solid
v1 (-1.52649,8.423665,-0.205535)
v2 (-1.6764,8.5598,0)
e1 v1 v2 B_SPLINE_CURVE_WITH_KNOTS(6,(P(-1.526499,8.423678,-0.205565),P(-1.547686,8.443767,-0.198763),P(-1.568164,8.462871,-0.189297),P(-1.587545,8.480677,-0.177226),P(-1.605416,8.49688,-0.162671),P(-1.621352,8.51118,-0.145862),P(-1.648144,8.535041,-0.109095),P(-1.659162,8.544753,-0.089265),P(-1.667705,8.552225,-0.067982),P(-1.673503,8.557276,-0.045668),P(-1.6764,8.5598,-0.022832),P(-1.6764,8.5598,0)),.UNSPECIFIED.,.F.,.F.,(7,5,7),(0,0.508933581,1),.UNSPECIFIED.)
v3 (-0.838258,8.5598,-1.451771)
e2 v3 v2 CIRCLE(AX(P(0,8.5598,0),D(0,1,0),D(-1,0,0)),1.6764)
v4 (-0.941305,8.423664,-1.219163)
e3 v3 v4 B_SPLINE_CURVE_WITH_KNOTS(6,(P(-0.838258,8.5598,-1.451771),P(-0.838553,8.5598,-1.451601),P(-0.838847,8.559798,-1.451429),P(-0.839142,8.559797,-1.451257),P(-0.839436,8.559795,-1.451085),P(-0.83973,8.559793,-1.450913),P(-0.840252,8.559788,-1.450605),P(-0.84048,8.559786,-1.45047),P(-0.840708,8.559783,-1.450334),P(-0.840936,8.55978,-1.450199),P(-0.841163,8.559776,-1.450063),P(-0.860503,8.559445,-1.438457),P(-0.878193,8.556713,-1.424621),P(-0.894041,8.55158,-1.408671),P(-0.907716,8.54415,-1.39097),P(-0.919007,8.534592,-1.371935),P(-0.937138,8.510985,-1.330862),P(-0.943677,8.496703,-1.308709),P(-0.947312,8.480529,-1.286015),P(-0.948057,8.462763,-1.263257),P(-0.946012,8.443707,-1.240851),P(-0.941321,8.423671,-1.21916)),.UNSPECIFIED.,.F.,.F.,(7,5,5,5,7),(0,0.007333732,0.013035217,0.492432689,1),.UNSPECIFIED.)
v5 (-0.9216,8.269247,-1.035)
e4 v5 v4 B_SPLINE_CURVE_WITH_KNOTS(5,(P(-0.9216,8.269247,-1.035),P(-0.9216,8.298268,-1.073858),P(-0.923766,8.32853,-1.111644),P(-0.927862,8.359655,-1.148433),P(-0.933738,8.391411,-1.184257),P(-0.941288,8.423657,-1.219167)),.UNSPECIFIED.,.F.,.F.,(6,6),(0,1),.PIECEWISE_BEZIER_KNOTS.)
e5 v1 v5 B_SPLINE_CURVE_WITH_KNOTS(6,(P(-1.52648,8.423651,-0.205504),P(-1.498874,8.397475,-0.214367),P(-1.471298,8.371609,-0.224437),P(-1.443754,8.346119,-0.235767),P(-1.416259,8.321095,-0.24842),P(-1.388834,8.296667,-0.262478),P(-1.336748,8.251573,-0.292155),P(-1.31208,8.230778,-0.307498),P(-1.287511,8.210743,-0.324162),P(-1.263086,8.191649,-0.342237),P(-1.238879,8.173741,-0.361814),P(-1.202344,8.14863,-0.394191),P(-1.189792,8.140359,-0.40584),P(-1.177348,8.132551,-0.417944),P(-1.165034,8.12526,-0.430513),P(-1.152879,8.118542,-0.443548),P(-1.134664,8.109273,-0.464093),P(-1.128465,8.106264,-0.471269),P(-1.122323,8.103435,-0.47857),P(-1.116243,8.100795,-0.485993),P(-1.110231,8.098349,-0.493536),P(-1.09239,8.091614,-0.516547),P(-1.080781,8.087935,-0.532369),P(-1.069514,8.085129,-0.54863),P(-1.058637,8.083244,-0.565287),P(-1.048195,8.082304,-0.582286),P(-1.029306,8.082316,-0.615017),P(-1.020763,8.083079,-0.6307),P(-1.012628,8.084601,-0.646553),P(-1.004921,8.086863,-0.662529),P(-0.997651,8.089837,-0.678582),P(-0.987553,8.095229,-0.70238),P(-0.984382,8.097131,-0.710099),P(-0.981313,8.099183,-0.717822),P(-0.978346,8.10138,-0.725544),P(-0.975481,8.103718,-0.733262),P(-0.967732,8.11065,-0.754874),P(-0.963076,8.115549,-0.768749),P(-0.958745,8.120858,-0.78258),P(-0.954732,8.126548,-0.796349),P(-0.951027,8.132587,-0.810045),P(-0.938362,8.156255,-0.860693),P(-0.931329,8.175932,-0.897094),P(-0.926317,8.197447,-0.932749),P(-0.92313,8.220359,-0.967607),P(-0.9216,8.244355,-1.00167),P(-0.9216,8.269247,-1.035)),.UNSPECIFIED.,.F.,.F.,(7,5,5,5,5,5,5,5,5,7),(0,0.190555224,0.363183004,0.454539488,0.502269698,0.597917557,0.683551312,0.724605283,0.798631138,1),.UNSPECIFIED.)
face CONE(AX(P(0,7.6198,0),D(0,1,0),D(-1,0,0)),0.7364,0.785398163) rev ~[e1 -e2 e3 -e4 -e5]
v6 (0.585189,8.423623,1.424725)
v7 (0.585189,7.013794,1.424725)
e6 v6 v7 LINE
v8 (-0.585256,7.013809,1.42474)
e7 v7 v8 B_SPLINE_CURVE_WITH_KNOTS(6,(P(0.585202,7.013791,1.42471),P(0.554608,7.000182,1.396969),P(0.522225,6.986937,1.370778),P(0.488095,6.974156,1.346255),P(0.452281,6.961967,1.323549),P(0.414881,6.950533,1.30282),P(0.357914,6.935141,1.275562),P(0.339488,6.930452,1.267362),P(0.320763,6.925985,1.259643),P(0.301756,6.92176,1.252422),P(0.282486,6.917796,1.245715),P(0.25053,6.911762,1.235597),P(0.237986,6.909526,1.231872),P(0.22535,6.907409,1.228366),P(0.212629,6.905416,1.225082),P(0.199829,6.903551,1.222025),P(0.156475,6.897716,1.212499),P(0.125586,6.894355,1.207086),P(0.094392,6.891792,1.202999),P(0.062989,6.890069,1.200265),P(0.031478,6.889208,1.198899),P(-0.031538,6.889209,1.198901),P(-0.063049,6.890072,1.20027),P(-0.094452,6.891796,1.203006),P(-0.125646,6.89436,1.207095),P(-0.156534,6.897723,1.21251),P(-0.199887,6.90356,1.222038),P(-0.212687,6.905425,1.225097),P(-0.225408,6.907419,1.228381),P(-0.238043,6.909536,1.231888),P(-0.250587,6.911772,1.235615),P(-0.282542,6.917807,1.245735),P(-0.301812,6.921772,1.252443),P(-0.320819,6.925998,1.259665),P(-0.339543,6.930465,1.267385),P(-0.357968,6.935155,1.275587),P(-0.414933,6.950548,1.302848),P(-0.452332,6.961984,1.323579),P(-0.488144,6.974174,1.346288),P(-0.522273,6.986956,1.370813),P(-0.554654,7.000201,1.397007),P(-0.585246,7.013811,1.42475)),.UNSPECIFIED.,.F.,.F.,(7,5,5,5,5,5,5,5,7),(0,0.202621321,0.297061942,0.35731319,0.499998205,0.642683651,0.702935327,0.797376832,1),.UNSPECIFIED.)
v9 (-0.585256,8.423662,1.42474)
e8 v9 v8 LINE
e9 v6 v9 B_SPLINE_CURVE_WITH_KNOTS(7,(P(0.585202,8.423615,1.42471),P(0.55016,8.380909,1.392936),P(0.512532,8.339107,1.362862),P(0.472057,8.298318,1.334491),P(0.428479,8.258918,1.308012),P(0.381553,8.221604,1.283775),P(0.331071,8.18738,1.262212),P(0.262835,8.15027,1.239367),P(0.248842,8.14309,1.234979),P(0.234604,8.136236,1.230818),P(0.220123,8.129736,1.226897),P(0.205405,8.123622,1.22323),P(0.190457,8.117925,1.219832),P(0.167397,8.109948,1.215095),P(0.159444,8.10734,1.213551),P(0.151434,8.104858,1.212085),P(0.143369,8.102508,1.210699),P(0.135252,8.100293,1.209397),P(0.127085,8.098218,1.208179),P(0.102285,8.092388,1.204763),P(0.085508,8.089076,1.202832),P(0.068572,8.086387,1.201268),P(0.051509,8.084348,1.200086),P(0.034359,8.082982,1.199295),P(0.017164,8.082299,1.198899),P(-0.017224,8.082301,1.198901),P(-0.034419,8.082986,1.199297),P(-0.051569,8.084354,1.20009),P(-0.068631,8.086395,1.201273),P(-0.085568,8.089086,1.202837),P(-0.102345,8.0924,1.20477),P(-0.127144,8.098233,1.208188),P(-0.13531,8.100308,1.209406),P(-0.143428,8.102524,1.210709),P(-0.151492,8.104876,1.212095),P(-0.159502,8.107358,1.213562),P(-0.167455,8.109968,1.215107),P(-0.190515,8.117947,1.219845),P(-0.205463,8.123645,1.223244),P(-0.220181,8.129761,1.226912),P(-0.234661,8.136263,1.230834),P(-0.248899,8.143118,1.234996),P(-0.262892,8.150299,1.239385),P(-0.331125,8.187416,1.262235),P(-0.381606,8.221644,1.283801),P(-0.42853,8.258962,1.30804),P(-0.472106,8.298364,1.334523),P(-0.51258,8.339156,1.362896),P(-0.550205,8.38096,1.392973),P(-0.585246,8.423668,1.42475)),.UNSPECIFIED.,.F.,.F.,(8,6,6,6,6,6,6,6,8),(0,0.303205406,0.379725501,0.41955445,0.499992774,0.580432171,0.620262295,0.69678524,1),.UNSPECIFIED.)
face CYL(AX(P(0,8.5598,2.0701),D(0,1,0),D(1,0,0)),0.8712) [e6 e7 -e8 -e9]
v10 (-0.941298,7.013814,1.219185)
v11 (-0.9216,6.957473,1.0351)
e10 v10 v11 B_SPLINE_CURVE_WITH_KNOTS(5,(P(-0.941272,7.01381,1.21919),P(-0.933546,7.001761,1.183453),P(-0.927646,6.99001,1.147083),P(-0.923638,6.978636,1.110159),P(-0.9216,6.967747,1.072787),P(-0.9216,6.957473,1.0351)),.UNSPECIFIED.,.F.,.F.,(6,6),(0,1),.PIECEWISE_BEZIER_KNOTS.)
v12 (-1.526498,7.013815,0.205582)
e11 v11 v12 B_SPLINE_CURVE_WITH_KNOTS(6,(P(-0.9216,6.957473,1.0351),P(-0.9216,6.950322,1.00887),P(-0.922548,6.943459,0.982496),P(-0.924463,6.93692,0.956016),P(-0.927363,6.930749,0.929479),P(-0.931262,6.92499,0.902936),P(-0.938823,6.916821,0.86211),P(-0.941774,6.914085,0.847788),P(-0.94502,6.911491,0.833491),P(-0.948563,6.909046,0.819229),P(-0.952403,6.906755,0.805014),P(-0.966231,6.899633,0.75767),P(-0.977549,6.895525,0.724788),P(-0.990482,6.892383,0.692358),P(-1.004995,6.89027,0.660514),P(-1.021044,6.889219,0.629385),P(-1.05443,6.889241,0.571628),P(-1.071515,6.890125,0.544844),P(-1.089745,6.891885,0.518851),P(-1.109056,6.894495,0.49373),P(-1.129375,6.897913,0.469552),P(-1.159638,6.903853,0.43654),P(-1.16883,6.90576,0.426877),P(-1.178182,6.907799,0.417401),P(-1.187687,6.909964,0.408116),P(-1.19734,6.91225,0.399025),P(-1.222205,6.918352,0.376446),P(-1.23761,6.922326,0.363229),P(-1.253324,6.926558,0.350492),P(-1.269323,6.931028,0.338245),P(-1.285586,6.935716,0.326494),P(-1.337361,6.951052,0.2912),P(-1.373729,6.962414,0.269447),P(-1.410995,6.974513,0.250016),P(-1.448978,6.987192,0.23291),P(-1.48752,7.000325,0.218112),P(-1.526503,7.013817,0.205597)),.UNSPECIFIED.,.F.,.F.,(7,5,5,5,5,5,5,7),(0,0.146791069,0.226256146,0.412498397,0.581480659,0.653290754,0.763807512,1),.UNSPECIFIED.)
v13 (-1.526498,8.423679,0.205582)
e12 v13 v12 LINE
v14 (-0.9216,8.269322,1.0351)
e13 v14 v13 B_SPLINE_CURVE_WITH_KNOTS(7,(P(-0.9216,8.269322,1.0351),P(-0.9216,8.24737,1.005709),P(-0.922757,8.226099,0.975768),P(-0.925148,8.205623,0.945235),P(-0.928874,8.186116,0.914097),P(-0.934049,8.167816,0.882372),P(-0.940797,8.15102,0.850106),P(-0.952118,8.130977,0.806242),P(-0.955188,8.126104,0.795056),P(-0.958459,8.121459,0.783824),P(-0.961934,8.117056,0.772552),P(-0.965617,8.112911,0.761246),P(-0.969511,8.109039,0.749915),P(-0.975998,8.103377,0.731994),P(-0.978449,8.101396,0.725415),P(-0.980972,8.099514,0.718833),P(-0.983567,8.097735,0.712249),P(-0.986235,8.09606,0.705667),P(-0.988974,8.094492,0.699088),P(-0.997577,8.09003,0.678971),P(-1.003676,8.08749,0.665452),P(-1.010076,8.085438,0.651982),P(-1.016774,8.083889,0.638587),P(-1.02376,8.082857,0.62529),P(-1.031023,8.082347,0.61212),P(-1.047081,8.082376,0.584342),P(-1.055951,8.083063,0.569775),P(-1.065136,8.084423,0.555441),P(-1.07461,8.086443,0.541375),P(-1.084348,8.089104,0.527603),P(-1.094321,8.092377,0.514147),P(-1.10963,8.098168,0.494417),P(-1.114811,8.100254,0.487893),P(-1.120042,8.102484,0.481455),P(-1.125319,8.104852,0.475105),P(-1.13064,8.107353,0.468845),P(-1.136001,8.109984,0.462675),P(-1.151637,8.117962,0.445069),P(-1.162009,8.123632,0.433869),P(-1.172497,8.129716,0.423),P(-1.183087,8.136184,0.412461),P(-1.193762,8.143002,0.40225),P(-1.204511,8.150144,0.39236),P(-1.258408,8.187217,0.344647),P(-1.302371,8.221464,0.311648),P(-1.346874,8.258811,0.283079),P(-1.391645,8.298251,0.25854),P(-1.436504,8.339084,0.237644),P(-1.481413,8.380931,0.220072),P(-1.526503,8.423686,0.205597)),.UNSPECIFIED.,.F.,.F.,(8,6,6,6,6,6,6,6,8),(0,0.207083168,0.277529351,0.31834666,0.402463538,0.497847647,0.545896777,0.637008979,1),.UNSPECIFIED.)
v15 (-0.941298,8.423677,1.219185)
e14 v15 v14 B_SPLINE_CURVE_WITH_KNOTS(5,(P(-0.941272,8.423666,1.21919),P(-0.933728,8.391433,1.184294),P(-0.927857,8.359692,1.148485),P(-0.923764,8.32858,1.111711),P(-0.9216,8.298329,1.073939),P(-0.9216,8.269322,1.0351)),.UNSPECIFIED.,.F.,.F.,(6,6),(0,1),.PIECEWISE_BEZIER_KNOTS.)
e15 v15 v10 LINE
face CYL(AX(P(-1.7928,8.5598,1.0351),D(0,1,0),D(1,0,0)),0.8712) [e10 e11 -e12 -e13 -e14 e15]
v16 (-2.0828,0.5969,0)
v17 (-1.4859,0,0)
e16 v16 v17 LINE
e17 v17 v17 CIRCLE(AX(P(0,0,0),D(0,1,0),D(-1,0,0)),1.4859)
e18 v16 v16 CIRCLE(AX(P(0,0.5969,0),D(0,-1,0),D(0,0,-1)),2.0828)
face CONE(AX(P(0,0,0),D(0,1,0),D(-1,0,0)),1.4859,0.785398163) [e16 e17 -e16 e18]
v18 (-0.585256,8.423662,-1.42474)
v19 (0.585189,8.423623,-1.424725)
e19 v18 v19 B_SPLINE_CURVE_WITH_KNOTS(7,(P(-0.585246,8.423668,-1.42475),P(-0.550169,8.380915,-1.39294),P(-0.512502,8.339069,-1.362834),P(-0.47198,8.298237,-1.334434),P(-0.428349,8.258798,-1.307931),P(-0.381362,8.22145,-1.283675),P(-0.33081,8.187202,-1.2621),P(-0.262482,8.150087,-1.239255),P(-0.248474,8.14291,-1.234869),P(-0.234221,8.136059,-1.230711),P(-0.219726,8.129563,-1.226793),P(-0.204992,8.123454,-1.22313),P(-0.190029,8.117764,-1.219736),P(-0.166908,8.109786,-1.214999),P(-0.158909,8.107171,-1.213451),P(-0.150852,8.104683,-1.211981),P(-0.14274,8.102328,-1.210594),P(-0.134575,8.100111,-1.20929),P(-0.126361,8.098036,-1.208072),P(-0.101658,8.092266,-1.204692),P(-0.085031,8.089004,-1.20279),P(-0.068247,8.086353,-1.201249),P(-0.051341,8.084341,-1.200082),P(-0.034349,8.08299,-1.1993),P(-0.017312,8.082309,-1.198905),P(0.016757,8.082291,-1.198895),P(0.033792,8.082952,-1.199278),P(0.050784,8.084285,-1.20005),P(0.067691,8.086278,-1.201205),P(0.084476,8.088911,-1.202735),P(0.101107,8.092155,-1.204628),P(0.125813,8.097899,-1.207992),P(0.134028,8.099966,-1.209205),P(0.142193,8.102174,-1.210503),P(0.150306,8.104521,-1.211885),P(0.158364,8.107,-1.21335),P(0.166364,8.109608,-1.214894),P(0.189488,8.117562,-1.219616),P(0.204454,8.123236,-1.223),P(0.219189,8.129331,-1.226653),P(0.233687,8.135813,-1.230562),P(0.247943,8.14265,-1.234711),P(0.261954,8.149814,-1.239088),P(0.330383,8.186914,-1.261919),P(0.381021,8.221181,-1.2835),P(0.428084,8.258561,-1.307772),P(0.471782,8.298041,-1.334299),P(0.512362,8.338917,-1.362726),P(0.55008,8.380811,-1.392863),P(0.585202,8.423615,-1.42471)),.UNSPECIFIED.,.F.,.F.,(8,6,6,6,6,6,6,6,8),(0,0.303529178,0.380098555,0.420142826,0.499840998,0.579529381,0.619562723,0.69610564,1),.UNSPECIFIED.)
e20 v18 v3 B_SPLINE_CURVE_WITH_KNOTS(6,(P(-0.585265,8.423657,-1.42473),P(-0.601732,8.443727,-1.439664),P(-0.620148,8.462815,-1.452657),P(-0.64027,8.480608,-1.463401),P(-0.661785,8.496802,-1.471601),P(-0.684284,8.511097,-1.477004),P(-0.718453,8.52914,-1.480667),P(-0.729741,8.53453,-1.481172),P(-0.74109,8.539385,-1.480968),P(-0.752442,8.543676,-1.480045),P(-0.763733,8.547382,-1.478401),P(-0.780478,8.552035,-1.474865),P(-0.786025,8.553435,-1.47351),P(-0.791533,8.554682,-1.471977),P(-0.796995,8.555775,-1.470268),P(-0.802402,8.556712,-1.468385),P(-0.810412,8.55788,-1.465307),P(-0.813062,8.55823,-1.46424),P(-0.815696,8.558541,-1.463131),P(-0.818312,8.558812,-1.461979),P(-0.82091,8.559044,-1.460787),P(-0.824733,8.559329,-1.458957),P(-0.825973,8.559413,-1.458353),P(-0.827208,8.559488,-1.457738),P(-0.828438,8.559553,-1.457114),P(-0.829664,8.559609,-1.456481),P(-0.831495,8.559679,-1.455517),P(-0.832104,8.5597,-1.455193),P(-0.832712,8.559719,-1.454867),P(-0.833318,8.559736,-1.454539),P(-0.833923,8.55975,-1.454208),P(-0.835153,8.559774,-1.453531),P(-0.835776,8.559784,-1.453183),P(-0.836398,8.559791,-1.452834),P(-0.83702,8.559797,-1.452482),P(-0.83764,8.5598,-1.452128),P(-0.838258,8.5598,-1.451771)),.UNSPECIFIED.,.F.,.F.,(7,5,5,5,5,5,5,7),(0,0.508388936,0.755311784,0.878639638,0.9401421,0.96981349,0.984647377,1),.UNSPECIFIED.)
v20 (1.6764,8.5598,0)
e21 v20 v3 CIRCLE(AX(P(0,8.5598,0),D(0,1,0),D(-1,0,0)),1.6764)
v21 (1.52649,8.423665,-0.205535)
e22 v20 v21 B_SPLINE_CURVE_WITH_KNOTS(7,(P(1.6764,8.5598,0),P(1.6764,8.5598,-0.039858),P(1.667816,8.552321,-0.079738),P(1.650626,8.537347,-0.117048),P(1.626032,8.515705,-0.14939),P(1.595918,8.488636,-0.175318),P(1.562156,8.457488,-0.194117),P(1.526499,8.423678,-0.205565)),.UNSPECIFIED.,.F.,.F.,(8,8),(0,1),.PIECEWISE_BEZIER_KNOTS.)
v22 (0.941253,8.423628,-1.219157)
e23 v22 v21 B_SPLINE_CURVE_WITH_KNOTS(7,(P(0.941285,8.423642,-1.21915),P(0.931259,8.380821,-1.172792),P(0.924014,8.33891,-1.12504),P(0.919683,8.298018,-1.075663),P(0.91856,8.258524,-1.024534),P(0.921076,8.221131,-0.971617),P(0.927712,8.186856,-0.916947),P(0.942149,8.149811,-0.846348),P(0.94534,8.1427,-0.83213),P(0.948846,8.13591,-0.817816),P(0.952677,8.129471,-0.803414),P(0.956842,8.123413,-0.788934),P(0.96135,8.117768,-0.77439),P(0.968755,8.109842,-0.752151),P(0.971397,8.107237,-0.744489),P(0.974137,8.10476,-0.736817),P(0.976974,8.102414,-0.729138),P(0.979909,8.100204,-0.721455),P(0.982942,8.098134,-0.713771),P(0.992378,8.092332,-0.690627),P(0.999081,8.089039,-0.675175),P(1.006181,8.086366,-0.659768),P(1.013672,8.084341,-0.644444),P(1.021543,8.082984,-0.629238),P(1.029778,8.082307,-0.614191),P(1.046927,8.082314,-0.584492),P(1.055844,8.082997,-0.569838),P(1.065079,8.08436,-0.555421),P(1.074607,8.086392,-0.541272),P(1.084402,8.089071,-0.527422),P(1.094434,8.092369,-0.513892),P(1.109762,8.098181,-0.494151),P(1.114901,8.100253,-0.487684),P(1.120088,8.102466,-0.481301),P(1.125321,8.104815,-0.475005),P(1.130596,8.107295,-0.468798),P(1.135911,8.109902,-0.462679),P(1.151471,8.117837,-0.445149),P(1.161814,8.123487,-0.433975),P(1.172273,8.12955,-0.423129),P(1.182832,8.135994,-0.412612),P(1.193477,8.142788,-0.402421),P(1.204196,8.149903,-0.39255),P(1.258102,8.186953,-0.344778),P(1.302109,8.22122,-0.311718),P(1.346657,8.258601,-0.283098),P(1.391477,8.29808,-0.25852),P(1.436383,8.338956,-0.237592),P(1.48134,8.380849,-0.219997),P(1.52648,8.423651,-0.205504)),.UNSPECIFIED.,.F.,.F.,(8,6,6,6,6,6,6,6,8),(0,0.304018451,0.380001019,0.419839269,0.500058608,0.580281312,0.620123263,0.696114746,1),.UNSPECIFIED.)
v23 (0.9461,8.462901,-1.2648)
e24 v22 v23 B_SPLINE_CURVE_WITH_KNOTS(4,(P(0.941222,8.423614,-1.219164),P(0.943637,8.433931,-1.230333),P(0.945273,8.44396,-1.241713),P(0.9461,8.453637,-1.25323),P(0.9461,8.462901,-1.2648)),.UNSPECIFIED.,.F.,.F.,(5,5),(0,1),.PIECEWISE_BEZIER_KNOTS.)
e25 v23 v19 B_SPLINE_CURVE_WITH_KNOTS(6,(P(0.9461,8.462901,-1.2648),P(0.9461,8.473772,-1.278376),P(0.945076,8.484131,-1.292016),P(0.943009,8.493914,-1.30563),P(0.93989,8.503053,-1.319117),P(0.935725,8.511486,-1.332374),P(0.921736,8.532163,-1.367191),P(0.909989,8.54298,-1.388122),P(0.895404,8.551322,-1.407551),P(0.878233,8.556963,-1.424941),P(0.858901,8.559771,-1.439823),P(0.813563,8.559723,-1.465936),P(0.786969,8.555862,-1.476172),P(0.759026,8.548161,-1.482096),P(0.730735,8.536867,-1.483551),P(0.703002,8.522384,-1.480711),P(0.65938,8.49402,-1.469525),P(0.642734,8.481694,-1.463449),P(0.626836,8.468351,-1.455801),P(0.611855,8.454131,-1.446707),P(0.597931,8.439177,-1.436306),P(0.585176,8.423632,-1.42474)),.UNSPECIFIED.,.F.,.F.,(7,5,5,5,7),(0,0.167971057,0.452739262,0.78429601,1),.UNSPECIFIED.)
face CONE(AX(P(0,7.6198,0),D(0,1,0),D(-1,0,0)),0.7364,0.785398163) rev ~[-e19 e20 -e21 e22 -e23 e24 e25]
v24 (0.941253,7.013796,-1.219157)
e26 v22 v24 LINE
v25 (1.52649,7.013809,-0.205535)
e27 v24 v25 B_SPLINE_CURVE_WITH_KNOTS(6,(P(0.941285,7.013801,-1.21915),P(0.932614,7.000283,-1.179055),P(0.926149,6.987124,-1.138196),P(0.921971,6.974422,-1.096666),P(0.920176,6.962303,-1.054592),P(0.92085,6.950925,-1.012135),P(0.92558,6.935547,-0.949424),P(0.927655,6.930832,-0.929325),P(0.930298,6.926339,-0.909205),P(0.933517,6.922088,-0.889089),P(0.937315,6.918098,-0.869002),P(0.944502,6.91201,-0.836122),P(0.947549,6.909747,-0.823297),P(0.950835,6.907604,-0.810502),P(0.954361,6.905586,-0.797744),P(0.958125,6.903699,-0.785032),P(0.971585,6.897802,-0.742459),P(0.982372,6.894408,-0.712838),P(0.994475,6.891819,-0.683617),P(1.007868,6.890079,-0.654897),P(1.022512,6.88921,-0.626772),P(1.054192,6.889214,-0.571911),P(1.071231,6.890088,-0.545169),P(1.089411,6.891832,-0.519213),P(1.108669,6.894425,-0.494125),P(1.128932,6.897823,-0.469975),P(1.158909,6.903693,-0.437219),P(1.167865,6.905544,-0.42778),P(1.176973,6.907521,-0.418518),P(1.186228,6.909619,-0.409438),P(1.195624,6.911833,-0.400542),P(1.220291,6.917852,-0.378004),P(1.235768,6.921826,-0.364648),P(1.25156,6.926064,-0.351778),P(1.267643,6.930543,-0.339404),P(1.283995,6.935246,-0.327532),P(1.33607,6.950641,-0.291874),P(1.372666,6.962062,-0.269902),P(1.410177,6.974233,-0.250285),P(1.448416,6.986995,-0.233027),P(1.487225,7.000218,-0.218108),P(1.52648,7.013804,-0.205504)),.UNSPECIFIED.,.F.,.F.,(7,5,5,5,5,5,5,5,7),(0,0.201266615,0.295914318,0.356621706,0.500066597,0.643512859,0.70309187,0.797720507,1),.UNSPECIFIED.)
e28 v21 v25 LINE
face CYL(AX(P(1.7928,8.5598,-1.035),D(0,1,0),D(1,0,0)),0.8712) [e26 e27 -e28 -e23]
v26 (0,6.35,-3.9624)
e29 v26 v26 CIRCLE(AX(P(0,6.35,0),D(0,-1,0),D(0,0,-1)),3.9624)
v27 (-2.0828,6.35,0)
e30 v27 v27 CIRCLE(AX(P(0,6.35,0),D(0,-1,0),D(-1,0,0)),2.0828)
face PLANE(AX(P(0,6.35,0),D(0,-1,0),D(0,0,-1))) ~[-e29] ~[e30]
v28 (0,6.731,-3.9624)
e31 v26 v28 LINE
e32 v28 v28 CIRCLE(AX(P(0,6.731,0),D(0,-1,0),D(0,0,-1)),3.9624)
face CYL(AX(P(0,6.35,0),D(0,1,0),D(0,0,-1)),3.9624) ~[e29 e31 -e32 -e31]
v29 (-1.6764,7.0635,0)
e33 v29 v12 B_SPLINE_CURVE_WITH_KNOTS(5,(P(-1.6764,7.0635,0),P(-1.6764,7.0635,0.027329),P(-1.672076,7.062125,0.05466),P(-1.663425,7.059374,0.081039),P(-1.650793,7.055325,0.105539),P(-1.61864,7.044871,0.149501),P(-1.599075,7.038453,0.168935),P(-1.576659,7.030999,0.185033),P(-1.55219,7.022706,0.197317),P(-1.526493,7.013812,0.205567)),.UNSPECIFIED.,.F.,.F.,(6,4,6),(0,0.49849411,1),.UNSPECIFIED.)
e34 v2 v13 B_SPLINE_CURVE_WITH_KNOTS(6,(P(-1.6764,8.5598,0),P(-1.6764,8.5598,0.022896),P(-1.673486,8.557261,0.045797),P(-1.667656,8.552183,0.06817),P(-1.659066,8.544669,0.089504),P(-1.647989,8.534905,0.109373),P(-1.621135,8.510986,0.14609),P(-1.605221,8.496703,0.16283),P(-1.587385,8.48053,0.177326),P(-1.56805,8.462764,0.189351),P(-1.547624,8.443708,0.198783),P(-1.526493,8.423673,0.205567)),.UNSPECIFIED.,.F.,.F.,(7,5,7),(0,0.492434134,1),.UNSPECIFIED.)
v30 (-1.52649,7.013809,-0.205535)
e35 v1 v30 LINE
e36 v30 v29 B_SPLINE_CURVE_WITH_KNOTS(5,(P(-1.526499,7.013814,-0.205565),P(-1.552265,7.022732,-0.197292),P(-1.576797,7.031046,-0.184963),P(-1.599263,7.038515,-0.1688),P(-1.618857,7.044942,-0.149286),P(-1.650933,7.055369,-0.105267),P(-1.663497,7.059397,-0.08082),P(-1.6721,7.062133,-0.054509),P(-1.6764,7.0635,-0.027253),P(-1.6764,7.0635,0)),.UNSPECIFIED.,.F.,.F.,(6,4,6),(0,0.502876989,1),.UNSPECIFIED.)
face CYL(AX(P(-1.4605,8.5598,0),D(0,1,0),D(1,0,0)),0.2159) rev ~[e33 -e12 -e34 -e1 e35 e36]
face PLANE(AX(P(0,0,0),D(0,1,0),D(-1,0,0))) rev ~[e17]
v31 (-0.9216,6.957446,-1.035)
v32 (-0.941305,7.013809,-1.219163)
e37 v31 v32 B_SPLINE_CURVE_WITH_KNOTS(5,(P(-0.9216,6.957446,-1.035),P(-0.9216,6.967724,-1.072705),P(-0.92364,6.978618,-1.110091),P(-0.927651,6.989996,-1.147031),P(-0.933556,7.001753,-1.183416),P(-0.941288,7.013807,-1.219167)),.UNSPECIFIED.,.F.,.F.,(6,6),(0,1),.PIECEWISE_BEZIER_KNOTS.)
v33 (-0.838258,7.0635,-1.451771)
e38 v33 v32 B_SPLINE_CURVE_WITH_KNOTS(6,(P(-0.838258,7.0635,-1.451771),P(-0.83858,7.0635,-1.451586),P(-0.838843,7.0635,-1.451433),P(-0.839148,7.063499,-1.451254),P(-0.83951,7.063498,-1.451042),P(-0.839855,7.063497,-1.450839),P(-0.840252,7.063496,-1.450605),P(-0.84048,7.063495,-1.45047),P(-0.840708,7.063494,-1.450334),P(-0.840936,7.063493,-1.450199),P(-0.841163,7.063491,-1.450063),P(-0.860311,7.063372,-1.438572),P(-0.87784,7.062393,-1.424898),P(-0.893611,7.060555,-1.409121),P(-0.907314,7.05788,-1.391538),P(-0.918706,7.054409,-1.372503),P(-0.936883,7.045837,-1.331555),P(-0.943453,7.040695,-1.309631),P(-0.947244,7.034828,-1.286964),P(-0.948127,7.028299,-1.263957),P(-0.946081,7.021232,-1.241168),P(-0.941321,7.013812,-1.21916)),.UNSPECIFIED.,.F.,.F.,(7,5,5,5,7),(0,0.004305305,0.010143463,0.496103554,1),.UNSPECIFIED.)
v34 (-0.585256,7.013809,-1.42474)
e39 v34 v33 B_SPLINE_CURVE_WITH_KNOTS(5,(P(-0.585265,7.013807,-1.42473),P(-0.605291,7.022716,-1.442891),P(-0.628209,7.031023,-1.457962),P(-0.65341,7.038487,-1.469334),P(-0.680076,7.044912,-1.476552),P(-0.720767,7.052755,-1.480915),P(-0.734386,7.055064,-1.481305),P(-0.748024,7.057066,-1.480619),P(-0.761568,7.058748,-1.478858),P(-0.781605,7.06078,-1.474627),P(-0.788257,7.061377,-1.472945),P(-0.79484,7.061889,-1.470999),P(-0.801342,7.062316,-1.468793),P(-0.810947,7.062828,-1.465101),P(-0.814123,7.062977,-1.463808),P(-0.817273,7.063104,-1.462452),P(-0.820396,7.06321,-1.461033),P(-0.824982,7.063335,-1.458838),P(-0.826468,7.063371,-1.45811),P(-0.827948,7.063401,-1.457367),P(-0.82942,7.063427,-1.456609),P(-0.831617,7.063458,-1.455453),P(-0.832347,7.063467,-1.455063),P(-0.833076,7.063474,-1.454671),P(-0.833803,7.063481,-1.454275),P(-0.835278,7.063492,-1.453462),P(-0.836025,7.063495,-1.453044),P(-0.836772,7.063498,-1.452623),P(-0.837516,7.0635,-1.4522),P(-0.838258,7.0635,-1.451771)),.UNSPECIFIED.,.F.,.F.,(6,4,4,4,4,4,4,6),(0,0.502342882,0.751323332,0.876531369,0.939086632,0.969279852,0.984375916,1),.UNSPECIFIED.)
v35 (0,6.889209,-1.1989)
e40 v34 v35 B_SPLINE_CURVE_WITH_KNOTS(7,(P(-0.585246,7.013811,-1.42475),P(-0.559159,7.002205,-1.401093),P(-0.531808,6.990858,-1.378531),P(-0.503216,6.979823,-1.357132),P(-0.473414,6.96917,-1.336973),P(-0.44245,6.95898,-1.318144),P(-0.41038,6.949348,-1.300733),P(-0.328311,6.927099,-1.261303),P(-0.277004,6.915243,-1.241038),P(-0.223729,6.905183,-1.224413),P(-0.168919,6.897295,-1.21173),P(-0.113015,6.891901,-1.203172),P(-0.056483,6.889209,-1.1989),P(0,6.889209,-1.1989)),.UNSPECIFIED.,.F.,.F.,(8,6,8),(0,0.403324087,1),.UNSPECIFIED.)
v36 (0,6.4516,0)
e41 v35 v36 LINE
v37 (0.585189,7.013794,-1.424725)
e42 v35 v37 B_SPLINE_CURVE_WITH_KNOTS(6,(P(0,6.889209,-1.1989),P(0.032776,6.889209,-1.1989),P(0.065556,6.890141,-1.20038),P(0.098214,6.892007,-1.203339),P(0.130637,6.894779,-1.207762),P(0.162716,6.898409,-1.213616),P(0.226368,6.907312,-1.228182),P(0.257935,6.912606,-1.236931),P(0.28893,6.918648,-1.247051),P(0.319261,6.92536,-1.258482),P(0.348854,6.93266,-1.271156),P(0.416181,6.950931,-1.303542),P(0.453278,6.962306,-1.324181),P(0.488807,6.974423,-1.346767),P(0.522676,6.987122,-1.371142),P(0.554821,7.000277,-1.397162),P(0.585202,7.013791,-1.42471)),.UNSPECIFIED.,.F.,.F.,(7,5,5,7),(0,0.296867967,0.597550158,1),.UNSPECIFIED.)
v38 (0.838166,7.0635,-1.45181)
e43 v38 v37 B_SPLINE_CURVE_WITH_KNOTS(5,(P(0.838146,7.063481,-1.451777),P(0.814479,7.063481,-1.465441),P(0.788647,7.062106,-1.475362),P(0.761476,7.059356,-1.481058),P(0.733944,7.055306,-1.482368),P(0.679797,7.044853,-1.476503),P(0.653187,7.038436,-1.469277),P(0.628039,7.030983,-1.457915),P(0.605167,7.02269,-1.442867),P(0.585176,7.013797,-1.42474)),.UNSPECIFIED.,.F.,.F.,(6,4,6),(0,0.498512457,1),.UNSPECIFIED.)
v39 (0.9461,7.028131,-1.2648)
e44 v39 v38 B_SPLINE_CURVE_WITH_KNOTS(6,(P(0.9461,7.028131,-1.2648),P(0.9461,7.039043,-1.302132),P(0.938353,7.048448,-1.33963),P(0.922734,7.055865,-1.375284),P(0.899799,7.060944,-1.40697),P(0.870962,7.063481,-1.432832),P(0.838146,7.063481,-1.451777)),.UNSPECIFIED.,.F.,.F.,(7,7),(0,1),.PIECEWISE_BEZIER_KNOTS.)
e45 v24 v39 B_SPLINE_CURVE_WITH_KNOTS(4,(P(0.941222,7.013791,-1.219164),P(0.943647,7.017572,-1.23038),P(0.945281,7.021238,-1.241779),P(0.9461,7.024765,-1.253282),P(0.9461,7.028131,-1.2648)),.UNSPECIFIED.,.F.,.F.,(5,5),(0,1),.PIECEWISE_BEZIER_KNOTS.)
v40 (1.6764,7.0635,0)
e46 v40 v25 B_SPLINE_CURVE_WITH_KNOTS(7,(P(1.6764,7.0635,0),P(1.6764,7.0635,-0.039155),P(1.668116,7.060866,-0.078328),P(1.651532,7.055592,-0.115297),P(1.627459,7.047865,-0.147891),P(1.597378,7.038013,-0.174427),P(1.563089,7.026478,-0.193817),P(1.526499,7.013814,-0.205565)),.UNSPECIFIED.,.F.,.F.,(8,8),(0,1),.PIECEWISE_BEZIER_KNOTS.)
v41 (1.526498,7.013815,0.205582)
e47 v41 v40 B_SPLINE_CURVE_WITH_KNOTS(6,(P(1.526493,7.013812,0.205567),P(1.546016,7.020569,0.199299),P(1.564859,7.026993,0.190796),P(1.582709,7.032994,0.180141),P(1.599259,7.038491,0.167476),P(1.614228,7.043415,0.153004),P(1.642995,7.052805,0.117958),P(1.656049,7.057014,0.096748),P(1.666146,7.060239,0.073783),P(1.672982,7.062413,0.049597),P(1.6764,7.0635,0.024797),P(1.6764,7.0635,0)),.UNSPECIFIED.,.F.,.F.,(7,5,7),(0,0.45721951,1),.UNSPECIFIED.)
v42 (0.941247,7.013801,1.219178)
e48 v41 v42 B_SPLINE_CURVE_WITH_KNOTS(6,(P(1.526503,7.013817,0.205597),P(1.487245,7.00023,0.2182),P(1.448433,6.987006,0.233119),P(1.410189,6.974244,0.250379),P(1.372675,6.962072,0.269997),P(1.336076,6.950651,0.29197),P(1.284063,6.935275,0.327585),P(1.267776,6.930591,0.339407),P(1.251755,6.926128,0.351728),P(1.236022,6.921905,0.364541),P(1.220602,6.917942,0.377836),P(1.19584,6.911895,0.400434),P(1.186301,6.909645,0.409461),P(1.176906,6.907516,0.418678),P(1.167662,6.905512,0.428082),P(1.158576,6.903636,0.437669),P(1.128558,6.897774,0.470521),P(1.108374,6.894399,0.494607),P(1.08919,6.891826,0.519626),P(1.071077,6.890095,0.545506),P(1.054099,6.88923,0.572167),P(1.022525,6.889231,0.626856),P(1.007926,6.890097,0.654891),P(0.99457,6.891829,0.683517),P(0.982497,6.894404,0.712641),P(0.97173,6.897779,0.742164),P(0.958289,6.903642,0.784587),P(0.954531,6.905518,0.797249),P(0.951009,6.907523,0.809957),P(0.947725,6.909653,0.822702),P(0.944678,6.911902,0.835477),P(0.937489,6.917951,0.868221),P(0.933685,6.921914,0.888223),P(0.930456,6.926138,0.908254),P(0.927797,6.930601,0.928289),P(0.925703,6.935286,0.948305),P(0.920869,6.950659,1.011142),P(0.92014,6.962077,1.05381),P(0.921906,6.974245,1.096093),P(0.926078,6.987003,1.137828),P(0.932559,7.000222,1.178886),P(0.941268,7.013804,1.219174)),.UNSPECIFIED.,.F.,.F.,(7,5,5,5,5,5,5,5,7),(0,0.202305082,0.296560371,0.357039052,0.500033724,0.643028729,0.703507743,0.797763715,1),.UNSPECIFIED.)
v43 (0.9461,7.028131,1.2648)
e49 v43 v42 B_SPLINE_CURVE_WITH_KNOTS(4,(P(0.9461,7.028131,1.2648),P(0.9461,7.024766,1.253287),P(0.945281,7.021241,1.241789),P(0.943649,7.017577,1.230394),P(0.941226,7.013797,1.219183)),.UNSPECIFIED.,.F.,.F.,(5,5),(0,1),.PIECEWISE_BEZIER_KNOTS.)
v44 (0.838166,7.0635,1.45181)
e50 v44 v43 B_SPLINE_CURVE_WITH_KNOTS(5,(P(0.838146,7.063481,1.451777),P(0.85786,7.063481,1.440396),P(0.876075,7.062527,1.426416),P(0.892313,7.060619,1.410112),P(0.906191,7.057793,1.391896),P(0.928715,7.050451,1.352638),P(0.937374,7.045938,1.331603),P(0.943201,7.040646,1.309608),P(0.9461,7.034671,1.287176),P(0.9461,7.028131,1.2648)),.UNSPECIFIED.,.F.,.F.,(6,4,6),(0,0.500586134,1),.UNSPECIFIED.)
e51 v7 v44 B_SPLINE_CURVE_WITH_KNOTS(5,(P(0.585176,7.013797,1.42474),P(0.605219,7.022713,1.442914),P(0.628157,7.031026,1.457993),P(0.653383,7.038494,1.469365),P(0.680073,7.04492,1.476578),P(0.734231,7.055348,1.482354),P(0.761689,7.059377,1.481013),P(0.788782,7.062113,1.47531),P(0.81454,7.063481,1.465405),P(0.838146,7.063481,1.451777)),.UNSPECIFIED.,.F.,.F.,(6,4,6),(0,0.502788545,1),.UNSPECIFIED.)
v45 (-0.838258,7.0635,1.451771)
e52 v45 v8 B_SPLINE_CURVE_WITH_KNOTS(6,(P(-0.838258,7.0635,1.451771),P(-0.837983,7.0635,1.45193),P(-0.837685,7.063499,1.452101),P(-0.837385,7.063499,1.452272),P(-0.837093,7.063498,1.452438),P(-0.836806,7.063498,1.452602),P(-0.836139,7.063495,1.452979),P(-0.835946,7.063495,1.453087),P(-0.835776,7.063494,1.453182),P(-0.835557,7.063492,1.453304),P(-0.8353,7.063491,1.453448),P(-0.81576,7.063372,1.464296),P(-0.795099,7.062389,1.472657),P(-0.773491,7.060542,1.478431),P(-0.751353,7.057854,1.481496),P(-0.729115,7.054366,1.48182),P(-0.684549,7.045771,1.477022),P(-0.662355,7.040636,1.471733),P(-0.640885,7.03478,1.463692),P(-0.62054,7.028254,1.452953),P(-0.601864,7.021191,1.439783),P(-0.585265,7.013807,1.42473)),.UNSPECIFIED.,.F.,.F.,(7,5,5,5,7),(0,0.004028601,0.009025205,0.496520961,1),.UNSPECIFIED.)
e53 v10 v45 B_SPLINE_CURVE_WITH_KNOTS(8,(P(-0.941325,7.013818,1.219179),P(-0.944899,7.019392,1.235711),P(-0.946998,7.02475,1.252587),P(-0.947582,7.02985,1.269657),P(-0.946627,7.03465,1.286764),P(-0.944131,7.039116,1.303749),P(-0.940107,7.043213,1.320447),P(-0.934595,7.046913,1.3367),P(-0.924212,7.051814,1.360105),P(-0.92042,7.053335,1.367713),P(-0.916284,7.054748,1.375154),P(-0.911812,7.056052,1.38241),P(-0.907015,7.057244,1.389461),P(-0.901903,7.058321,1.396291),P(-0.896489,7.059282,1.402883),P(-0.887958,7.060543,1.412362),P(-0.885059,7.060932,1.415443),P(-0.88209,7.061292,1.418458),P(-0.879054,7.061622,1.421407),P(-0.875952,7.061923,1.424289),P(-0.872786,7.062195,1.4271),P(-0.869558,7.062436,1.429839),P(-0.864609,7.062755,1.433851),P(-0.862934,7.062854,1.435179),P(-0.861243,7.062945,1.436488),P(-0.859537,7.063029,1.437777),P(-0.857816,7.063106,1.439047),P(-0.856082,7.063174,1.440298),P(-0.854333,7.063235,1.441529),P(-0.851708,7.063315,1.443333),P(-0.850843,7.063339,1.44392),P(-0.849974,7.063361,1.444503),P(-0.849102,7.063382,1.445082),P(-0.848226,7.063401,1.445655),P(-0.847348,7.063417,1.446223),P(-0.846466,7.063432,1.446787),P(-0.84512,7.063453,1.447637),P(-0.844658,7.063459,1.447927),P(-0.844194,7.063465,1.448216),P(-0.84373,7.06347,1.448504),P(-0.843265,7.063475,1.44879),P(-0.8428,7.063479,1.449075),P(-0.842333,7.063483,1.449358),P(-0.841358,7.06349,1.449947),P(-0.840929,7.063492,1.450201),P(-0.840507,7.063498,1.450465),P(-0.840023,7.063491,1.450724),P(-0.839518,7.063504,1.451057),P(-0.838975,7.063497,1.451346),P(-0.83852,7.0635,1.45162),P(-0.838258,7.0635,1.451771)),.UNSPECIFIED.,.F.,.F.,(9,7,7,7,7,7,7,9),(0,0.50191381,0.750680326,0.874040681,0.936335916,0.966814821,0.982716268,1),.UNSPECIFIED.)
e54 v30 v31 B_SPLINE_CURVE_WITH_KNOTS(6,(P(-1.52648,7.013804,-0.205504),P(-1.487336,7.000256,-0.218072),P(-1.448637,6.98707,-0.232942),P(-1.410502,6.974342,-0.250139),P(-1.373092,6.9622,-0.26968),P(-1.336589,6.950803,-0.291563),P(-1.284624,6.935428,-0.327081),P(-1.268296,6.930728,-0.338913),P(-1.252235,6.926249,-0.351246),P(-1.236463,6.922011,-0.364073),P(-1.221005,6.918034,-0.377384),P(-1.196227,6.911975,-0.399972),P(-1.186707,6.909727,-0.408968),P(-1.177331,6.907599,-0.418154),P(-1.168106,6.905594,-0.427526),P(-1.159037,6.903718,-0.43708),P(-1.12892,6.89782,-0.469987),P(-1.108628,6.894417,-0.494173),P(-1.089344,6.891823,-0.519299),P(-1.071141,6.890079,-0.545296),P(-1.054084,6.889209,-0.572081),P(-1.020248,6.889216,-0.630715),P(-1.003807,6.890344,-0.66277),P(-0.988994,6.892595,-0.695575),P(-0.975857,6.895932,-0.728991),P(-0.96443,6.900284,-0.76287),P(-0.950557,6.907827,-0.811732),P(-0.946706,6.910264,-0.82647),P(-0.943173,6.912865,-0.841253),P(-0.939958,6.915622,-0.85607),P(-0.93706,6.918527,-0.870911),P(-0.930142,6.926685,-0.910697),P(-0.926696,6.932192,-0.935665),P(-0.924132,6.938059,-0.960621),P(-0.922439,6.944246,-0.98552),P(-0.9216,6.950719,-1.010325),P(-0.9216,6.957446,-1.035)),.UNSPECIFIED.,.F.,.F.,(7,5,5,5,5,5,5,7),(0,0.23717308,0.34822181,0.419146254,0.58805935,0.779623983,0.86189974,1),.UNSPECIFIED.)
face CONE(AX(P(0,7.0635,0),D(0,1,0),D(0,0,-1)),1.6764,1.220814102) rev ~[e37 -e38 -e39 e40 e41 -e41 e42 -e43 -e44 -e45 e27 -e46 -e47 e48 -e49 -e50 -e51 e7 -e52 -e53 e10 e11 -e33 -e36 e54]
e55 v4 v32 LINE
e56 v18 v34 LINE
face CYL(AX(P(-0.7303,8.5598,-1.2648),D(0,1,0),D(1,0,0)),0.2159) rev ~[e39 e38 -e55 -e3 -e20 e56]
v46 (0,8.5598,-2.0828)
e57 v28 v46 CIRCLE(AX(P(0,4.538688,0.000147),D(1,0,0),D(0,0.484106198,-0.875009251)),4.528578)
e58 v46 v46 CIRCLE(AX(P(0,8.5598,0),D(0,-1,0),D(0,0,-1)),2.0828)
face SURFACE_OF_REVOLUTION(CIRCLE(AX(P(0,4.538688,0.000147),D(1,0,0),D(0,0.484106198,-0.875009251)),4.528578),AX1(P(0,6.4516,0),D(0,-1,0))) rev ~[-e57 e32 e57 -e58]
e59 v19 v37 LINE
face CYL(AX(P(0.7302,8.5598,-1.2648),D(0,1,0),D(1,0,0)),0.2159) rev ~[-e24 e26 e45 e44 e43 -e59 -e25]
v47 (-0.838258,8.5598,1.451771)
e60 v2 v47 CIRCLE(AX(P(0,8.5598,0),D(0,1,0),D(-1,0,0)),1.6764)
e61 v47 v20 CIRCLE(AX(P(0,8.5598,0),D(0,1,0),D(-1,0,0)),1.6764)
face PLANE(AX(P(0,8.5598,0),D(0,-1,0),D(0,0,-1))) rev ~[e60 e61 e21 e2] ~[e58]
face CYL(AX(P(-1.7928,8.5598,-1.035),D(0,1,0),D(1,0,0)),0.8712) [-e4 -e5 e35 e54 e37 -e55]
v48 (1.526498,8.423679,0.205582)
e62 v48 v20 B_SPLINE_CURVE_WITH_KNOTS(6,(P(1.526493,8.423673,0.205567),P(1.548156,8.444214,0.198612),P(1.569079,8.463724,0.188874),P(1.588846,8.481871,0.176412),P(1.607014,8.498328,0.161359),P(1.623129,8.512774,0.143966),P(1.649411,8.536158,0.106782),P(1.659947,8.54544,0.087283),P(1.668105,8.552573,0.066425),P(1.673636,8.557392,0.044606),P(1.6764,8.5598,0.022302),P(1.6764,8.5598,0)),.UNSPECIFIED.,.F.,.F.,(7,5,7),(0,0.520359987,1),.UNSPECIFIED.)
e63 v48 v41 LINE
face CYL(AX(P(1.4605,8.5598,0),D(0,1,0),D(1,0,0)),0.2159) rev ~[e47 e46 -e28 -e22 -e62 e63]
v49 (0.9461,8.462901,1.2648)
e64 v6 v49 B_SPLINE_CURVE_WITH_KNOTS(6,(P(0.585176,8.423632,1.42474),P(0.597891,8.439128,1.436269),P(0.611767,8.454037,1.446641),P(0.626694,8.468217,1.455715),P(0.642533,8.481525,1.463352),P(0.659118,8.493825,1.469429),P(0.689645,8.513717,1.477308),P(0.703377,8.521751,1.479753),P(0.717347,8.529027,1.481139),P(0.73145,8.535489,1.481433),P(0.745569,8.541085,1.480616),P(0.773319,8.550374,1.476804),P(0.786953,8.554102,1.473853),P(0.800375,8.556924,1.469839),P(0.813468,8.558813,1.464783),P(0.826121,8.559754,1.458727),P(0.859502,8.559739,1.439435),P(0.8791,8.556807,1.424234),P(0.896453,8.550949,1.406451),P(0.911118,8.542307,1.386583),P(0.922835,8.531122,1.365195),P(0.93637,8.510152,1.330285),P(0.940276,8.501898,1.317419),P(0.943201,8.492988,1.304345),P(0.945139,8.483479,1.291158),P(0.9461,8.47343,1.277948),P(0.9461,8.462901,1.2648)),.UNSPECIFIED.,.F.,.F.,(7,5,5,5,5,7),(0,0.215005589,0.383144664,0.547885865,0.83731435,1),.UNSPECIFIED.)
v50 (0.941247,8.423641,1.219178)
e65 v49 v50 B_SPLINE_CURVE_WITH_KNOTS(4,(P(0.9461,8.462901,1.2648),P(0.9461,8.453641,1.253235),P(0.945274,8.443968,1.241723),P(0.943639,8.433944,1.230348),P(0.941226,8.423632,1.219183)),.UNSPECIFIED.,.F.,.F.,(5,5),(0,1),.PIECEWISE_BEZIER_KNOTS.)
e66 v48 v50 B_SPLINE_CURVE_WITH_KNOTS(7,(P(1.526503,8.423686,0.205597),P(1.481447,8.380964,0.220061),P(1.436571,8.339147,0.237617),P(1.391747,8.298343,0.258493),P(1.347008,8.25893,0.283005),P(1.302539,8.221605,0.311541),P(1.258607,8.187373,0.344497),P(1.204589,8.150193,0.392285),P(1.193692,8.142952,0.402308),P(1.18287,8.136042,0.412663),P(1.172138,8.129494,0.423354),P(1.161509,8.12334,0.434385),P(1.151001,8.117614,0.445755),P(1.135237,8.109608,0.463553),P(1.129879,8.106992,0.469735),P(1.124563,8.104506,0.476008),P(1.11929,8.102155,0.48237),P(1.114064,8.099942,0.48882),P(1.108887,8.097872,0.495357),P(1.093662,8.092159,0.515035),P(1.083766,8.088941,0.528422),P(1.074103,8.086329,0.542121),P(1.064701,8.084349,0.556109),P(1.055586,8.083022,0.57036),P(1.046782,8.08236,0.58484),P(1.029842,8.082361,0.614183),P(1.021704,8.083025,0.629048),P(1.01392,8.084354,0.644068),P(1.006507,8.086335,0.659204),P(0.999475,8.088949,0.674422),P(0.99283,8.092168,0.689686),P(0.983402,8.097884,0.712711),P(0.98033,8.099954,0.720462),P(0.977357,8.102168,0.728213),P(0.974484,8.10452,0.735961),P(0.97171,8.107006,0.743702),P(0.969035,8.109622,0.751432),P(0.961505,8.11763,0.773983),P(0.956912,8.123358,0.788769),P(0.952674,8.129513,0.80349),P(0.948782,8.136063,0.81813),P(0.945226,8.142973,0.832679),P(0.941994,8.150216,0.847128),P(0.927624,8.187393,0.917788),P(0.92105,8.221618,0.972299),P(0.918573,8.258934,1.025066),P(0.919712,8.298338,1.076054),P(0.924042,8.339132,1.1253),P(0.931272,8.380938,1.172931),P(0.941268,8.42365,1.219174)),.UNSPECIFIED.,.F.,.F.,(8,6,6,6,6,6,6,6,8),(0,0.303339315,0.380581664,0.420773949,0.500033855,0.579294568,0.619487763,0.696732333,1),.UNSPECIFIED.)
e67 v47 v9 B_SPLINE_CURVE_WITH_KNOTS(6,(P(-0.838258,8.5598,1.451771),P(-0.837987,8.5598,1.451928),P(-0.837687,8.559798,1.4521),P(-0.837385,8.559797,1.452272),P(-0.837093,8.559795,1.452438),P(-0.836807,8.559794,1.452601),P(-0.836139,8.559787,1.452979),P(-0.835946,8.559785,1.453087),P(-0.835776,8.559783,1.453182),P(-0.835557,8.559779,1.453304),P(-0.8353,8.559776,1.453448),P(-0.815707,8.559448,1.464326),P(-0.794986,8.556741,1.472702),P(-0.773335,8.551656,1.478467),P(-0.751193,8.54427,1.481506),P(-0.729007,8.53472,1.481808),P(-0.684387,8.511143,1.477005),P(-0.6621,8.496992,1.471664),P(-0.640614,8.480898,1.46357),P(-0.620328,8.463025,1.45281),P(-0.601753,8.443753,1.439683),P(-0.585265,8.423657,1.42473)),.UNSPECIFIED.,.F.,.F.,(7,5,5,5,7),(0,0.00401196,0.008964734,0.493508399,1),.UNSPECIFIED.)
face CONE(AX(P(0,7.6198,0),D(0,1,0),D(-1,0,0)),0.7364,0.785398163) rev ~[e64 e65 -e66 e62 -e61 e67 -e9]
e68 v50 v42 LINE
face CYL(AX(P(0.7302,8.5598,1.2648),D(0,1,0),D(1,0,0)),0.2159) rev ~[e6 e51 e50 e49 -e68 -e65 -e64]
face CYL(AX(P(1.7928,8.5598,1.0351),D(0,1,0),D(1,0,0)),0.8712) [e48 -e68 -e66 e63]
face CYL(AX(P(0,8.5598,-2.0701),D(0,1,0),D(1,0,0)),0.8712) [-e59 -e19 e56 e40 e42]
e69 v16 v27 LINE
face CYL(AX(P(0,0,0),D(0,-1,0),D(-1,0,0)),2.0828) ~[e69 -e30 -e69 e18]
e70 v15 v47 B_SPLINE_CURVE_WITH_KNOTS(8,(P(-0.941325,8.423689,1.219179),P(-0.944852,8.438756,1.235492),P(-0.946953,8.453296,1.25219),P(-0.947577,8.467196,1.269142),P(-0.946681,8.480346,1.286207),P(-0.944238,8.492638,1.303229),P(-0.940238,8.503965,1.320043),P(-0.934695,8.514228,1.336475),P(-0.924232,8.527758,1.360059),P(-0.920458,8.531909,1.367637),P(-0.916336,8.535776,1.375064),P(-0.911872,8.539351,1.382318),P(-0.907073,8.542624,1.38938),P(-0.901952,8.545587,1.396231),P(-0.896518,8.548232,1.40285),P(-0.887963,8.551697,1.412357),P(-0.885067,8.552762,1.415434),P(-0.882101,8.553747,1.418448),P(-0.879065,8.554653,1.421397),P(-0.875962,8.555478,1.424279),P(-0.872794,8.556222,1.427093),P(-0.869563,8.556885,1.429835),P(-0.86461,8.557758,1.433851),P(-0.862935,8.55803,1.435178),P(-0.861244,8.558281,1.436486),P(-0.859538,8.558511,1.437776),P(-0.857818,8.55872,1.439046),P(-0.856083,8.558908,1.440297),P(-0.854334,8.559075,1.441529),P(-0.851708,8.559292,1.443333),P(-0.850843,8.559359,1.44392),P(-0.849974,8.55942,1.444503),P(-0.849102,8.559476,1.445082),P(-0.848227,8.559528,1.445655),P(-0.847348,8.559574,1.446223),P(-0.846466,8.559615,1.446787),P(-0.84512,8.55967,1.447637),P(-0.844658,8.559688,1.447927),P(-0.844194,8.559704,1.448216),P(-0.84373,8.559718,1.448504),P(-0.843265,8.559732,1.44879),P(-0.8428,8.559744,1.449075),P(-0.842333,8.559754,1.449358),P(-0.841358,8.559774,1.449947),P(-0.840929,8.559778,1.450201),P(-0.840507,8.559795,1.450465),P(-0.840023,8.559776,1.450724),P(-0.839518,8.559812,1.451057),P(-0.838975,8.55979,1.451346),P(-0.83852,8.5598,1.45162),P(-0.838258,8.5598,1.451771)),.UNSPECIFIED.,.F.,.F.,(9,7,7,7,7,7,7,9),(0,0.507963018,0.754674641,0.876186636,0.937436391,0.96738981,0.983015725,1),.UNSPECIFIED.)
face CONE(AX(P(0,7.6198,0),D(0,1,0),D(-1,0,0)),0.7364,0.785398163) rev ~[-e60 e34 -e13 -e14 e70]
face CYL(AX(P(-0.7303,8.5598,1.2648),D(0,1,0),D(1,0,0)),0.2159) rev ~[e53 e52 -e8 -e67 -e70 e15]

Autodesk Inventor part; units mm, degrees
ref_plane "YZ Plane" through (0, 0, 0) normal (1, 0, 0) x (0, 1, 0)
ref_plane "XZ Plane" through (0, 0, 0) normal (0, 1, 0) x (-1, 0, 0)
ref_plane "XY Plane" through (0, 0, 0) normal (0, 0, 1) x (1, 0, 0)
sketch "Sketch1" plane through (0, 0, 0) normal (0, 1, 0) x (-1, 0, 0)
  circle A0 centre (0, 0) radius 2.0828
  dimension "d4" = 4.1656
extrude "Body" add sketch "Sketch1" along normal blind 6.35
sketch "Sketch2" plane through (0, 0, 0) normal (1, 0, 0) x (0, 1, 0)
  line L0 (6.35, -2.0828) -> (6.35, 2.0828) projected
  line L1 (6.35, 0) -> (6.35, -3.9624)
  line L2 (6.35, -3.9624) -> (6.731, -3.9624)
  arc A0 (6.731, -3.9624) -> (8.5598, -2.0828) centre (4.5388, 0) ccw
  line L3 (8.5598, -2.0828) -> (8.5598, -1.6764)
  line L4 (8.5598, -1.6764) -> (7.0635, -1.6764)
  line L5 (7.0635, -1.6764) -> (6.4516, 0)
  line L6 (6.4516, 0) -> (6.35, 0)
  point P0 (0, 0)
  dimension "d5" = 3.9624
  dimension "d6" = 0.381
  dimension "d13" = 0.1016
  dimension "d14" = 2.0828
  dimension "d15" = 2.2098
  dimension "d16" = 0
  dimension "d17" = 1.6764
  dimension "d57" = 20.053
revolve "Head" add sketch "Sketch2" angle 360 about axis through (0, 6.4516, 0) along (0, -1, 0)
sketch "Sketch3" plane through (0, 8.5598, 0) normal (0, 1, 0) x (1, 0, 0)
  circle A0 centre (0, 0) radius 1.6764 projected
  line L0 (0.7302, -1.2648) -> (-0.7303, -1.2648) construction
  line L1 (-0.7303, -1.2648) -> (-1.4605, 0) construction
  line L2 (-1.4605, 0) -> (-0.7303, 1.2648) construction
  line L3 (-0.7303, 1.2648) -> (0.7302, 1.2648) construction
  line L4 (0.7302, 1.2648) -> (1.4605, 0) construction
  line L5 (1.4605, 0) -> (0.7302, -1.2648) construction
  circle A1 centre (-0.7303, -1.2648) radius 0.2159
  circle A2 centre (-1.4605, 0) radius 0.2159
  circle A3 centre (-0.7303, 1.2648) radius 0.2159
  circle A4 centre (0.7302, 1.2648) radius 0.2159
  circle A5 centre (1.4605, 0) radius 0.2159
  circle A6 centre (0.7302, -1.2648) radius 0.2159
  circle A7 centre (0, -2.0701) radius 0.8712
  circle A8 centre (0, 2.0701) radius 0.8712
  circle A9 centre (1.7928, -1.0351) radius 0.8712
  circle A10 centre (-1.7928, 1.035) radius 0.8712
  circle A11 centre (1.7928, 1.035) radius 0.8712
  circle A12 centre (-1.7928, -1.0351) radius 0.8712
  circle A13 centre (0, 0) radius 1.8188
  point P0 (0, 0)
  point P1 (0, 0)
  point P2 (0.9413, 1.2192)
  point P3 (1.5265, 0.2056)
  point P4 (1.5265, -0.2056)
  point P5 (0.9413, -1.2192)
  point P6 (0.5852, -1.4248)
  point P7 (-0.5852, -1.4248)
  point P8 (-0.9413, -1.2192)
  point P9 (-1.5265, -0.2056)
  point P10 (-1.5265, 0.2056)
  point P11 (-0.9413, 1.2192)
  point P12 (-0.5852, 1.4248)
  point P13 (0.5852, 1.4248)
  dimension "d58" = 2.921
  dimension "d59" = 4.1402
  dimension "d62" = 120
extrude "Hex" add sketch "Sketch3" against normal blind 1.778 contours A5 A11 A0 | A0 A11 A13 A9 | A0 A9 A5 | A11 A0 | A0 A11 A13 | A9 A13 A0 | A0 A9 | A11 A4 A0 | A0 A8 A13 A11 | A9 A13 A7 A0 | A0 A6 A9 | A4 A8 A0 | A0 A7 A6 | A8 A0 | A7 A0 | A0 A8 A13 | A7 A13 A0 | A3 A0 A8 | A7 A0 A1 | A0 A10 A13 A8 | A7 A13 A12 A0 | A3 A10 A0 | A0 A12 A1 | A10 A0 A13 | A13 A12 A0 | A10 A0 | A0 A12 | A10 A0 A12 A13 | A10 A2 A0 | A0 A2 A12
sketch "Sketch4" plane through (0, 0, 0) normal (0, 0, 1) x (1, 0, 0)
  line L0 (-0.7364, 7.6198) -> (-1.6764, 8.5598)
  line L1 (0, 8.5598) -> (-0.7364, 7.6198)
  line L2 (0, -3.617) -> (0, 21.7018) projected
  line L3 (-1.5265, 8.5598) -> (-1.5265, 7.0138) projected
  line L4 (-1.5265, 8.5598) -> (-1.5265, 8.5598) projected
  line L5 (-1.5265, 8.5598) -> (-1.5265, 7.0138) projected
  line L6 (-1.6764, 8.5598) -> (-1.5265, 8.5598) projected
  line L7 (-1.6764, 8.5598) -> (0, 8.5598)
  point P0 (0, 0)
  point P1 (-1.6764, 7.0635)
  dimension "d29" = 1.6764
revolve "Head Chamfer" cut sketch "Sketch4" angle 360 about axis through (0, -10, 0) along (0, 1, 0)
sketch "Sketch5" plane through (0, 0, 0) normal (1, 0, 0) x (0, 1, 0)
  line L0 (0, -2.0828) -> (6.35, -2.0828) projected
  line L1 (6.35, 3.9624) -> (6.35, -3.9624) projected
  line L2 (6.35, -2.0828) -> (6.35, 2.0828) projected
  line L3 (0.0745, -2.0828) -> (-0.2261, -2.6035)
  line L4 (-0.2261, -2.6035) -> (-0.3253, -2.6035)
  line L5 (-0.3253, -2.6035) -> (-0.626, -2.0828)
  line L6 (0.0686, -2.6035) -> (-0.7252, -2.6035) construction
  line L7 (-0.626, -2.0828) -> (0.0745, -2.0828)
  line L8 (0, -2.0828) -> (6.35, -2.0828) projected
  point P0 (0, 0)
  dimension "d31" = 30
  dimension "d32" = 60
  dimension "a" = 0.0992
  dimension "d46" = 0.7937
  dimension "d54" = 0.0686
  dimension "d55" = 0.5207
  dimension "d56" = 0.0992
feature "Thread" [suppressed]
sketch "Sketch6" plane through (0, 0, 0) normal (0, 0, 1) x (1, 0, 0)
  line L0 (0, 0) -> (-1.4859, 0)
  line L1 (2.0828, 0) -> (-2.0828, 0) projected
  line L2 (-1.4859, 0) -> (-2.4948, 1.0089)
  line L3 (-2.4948, 1.0089) -> (-2.9651, -1.2188)
  line L4 (-2.9651, -1.2188) -> (-1.4859, -1.2188)
  line L5 (-2.0828, 0) -> (-2.0828, 6.35) projected
  line L6 (-1.4859, -1.2188) -> (-1.4859, 0)
  line L7 (0, -4.6376) -> (0, 19.2938) projected
  point P0 (-2.0828, 0.5969)
  dimension "d49" = 1.4859
  dimension "d50" = 135
revolve "Tapered End" cut sketch "Sketch6" angle 360 about axis through (0, -10, 0) along (0, 1, 0)
equation "\"d56\" = a"
properties part number "Screw 8-32 Steel 2.500" material "VEX Steel"
